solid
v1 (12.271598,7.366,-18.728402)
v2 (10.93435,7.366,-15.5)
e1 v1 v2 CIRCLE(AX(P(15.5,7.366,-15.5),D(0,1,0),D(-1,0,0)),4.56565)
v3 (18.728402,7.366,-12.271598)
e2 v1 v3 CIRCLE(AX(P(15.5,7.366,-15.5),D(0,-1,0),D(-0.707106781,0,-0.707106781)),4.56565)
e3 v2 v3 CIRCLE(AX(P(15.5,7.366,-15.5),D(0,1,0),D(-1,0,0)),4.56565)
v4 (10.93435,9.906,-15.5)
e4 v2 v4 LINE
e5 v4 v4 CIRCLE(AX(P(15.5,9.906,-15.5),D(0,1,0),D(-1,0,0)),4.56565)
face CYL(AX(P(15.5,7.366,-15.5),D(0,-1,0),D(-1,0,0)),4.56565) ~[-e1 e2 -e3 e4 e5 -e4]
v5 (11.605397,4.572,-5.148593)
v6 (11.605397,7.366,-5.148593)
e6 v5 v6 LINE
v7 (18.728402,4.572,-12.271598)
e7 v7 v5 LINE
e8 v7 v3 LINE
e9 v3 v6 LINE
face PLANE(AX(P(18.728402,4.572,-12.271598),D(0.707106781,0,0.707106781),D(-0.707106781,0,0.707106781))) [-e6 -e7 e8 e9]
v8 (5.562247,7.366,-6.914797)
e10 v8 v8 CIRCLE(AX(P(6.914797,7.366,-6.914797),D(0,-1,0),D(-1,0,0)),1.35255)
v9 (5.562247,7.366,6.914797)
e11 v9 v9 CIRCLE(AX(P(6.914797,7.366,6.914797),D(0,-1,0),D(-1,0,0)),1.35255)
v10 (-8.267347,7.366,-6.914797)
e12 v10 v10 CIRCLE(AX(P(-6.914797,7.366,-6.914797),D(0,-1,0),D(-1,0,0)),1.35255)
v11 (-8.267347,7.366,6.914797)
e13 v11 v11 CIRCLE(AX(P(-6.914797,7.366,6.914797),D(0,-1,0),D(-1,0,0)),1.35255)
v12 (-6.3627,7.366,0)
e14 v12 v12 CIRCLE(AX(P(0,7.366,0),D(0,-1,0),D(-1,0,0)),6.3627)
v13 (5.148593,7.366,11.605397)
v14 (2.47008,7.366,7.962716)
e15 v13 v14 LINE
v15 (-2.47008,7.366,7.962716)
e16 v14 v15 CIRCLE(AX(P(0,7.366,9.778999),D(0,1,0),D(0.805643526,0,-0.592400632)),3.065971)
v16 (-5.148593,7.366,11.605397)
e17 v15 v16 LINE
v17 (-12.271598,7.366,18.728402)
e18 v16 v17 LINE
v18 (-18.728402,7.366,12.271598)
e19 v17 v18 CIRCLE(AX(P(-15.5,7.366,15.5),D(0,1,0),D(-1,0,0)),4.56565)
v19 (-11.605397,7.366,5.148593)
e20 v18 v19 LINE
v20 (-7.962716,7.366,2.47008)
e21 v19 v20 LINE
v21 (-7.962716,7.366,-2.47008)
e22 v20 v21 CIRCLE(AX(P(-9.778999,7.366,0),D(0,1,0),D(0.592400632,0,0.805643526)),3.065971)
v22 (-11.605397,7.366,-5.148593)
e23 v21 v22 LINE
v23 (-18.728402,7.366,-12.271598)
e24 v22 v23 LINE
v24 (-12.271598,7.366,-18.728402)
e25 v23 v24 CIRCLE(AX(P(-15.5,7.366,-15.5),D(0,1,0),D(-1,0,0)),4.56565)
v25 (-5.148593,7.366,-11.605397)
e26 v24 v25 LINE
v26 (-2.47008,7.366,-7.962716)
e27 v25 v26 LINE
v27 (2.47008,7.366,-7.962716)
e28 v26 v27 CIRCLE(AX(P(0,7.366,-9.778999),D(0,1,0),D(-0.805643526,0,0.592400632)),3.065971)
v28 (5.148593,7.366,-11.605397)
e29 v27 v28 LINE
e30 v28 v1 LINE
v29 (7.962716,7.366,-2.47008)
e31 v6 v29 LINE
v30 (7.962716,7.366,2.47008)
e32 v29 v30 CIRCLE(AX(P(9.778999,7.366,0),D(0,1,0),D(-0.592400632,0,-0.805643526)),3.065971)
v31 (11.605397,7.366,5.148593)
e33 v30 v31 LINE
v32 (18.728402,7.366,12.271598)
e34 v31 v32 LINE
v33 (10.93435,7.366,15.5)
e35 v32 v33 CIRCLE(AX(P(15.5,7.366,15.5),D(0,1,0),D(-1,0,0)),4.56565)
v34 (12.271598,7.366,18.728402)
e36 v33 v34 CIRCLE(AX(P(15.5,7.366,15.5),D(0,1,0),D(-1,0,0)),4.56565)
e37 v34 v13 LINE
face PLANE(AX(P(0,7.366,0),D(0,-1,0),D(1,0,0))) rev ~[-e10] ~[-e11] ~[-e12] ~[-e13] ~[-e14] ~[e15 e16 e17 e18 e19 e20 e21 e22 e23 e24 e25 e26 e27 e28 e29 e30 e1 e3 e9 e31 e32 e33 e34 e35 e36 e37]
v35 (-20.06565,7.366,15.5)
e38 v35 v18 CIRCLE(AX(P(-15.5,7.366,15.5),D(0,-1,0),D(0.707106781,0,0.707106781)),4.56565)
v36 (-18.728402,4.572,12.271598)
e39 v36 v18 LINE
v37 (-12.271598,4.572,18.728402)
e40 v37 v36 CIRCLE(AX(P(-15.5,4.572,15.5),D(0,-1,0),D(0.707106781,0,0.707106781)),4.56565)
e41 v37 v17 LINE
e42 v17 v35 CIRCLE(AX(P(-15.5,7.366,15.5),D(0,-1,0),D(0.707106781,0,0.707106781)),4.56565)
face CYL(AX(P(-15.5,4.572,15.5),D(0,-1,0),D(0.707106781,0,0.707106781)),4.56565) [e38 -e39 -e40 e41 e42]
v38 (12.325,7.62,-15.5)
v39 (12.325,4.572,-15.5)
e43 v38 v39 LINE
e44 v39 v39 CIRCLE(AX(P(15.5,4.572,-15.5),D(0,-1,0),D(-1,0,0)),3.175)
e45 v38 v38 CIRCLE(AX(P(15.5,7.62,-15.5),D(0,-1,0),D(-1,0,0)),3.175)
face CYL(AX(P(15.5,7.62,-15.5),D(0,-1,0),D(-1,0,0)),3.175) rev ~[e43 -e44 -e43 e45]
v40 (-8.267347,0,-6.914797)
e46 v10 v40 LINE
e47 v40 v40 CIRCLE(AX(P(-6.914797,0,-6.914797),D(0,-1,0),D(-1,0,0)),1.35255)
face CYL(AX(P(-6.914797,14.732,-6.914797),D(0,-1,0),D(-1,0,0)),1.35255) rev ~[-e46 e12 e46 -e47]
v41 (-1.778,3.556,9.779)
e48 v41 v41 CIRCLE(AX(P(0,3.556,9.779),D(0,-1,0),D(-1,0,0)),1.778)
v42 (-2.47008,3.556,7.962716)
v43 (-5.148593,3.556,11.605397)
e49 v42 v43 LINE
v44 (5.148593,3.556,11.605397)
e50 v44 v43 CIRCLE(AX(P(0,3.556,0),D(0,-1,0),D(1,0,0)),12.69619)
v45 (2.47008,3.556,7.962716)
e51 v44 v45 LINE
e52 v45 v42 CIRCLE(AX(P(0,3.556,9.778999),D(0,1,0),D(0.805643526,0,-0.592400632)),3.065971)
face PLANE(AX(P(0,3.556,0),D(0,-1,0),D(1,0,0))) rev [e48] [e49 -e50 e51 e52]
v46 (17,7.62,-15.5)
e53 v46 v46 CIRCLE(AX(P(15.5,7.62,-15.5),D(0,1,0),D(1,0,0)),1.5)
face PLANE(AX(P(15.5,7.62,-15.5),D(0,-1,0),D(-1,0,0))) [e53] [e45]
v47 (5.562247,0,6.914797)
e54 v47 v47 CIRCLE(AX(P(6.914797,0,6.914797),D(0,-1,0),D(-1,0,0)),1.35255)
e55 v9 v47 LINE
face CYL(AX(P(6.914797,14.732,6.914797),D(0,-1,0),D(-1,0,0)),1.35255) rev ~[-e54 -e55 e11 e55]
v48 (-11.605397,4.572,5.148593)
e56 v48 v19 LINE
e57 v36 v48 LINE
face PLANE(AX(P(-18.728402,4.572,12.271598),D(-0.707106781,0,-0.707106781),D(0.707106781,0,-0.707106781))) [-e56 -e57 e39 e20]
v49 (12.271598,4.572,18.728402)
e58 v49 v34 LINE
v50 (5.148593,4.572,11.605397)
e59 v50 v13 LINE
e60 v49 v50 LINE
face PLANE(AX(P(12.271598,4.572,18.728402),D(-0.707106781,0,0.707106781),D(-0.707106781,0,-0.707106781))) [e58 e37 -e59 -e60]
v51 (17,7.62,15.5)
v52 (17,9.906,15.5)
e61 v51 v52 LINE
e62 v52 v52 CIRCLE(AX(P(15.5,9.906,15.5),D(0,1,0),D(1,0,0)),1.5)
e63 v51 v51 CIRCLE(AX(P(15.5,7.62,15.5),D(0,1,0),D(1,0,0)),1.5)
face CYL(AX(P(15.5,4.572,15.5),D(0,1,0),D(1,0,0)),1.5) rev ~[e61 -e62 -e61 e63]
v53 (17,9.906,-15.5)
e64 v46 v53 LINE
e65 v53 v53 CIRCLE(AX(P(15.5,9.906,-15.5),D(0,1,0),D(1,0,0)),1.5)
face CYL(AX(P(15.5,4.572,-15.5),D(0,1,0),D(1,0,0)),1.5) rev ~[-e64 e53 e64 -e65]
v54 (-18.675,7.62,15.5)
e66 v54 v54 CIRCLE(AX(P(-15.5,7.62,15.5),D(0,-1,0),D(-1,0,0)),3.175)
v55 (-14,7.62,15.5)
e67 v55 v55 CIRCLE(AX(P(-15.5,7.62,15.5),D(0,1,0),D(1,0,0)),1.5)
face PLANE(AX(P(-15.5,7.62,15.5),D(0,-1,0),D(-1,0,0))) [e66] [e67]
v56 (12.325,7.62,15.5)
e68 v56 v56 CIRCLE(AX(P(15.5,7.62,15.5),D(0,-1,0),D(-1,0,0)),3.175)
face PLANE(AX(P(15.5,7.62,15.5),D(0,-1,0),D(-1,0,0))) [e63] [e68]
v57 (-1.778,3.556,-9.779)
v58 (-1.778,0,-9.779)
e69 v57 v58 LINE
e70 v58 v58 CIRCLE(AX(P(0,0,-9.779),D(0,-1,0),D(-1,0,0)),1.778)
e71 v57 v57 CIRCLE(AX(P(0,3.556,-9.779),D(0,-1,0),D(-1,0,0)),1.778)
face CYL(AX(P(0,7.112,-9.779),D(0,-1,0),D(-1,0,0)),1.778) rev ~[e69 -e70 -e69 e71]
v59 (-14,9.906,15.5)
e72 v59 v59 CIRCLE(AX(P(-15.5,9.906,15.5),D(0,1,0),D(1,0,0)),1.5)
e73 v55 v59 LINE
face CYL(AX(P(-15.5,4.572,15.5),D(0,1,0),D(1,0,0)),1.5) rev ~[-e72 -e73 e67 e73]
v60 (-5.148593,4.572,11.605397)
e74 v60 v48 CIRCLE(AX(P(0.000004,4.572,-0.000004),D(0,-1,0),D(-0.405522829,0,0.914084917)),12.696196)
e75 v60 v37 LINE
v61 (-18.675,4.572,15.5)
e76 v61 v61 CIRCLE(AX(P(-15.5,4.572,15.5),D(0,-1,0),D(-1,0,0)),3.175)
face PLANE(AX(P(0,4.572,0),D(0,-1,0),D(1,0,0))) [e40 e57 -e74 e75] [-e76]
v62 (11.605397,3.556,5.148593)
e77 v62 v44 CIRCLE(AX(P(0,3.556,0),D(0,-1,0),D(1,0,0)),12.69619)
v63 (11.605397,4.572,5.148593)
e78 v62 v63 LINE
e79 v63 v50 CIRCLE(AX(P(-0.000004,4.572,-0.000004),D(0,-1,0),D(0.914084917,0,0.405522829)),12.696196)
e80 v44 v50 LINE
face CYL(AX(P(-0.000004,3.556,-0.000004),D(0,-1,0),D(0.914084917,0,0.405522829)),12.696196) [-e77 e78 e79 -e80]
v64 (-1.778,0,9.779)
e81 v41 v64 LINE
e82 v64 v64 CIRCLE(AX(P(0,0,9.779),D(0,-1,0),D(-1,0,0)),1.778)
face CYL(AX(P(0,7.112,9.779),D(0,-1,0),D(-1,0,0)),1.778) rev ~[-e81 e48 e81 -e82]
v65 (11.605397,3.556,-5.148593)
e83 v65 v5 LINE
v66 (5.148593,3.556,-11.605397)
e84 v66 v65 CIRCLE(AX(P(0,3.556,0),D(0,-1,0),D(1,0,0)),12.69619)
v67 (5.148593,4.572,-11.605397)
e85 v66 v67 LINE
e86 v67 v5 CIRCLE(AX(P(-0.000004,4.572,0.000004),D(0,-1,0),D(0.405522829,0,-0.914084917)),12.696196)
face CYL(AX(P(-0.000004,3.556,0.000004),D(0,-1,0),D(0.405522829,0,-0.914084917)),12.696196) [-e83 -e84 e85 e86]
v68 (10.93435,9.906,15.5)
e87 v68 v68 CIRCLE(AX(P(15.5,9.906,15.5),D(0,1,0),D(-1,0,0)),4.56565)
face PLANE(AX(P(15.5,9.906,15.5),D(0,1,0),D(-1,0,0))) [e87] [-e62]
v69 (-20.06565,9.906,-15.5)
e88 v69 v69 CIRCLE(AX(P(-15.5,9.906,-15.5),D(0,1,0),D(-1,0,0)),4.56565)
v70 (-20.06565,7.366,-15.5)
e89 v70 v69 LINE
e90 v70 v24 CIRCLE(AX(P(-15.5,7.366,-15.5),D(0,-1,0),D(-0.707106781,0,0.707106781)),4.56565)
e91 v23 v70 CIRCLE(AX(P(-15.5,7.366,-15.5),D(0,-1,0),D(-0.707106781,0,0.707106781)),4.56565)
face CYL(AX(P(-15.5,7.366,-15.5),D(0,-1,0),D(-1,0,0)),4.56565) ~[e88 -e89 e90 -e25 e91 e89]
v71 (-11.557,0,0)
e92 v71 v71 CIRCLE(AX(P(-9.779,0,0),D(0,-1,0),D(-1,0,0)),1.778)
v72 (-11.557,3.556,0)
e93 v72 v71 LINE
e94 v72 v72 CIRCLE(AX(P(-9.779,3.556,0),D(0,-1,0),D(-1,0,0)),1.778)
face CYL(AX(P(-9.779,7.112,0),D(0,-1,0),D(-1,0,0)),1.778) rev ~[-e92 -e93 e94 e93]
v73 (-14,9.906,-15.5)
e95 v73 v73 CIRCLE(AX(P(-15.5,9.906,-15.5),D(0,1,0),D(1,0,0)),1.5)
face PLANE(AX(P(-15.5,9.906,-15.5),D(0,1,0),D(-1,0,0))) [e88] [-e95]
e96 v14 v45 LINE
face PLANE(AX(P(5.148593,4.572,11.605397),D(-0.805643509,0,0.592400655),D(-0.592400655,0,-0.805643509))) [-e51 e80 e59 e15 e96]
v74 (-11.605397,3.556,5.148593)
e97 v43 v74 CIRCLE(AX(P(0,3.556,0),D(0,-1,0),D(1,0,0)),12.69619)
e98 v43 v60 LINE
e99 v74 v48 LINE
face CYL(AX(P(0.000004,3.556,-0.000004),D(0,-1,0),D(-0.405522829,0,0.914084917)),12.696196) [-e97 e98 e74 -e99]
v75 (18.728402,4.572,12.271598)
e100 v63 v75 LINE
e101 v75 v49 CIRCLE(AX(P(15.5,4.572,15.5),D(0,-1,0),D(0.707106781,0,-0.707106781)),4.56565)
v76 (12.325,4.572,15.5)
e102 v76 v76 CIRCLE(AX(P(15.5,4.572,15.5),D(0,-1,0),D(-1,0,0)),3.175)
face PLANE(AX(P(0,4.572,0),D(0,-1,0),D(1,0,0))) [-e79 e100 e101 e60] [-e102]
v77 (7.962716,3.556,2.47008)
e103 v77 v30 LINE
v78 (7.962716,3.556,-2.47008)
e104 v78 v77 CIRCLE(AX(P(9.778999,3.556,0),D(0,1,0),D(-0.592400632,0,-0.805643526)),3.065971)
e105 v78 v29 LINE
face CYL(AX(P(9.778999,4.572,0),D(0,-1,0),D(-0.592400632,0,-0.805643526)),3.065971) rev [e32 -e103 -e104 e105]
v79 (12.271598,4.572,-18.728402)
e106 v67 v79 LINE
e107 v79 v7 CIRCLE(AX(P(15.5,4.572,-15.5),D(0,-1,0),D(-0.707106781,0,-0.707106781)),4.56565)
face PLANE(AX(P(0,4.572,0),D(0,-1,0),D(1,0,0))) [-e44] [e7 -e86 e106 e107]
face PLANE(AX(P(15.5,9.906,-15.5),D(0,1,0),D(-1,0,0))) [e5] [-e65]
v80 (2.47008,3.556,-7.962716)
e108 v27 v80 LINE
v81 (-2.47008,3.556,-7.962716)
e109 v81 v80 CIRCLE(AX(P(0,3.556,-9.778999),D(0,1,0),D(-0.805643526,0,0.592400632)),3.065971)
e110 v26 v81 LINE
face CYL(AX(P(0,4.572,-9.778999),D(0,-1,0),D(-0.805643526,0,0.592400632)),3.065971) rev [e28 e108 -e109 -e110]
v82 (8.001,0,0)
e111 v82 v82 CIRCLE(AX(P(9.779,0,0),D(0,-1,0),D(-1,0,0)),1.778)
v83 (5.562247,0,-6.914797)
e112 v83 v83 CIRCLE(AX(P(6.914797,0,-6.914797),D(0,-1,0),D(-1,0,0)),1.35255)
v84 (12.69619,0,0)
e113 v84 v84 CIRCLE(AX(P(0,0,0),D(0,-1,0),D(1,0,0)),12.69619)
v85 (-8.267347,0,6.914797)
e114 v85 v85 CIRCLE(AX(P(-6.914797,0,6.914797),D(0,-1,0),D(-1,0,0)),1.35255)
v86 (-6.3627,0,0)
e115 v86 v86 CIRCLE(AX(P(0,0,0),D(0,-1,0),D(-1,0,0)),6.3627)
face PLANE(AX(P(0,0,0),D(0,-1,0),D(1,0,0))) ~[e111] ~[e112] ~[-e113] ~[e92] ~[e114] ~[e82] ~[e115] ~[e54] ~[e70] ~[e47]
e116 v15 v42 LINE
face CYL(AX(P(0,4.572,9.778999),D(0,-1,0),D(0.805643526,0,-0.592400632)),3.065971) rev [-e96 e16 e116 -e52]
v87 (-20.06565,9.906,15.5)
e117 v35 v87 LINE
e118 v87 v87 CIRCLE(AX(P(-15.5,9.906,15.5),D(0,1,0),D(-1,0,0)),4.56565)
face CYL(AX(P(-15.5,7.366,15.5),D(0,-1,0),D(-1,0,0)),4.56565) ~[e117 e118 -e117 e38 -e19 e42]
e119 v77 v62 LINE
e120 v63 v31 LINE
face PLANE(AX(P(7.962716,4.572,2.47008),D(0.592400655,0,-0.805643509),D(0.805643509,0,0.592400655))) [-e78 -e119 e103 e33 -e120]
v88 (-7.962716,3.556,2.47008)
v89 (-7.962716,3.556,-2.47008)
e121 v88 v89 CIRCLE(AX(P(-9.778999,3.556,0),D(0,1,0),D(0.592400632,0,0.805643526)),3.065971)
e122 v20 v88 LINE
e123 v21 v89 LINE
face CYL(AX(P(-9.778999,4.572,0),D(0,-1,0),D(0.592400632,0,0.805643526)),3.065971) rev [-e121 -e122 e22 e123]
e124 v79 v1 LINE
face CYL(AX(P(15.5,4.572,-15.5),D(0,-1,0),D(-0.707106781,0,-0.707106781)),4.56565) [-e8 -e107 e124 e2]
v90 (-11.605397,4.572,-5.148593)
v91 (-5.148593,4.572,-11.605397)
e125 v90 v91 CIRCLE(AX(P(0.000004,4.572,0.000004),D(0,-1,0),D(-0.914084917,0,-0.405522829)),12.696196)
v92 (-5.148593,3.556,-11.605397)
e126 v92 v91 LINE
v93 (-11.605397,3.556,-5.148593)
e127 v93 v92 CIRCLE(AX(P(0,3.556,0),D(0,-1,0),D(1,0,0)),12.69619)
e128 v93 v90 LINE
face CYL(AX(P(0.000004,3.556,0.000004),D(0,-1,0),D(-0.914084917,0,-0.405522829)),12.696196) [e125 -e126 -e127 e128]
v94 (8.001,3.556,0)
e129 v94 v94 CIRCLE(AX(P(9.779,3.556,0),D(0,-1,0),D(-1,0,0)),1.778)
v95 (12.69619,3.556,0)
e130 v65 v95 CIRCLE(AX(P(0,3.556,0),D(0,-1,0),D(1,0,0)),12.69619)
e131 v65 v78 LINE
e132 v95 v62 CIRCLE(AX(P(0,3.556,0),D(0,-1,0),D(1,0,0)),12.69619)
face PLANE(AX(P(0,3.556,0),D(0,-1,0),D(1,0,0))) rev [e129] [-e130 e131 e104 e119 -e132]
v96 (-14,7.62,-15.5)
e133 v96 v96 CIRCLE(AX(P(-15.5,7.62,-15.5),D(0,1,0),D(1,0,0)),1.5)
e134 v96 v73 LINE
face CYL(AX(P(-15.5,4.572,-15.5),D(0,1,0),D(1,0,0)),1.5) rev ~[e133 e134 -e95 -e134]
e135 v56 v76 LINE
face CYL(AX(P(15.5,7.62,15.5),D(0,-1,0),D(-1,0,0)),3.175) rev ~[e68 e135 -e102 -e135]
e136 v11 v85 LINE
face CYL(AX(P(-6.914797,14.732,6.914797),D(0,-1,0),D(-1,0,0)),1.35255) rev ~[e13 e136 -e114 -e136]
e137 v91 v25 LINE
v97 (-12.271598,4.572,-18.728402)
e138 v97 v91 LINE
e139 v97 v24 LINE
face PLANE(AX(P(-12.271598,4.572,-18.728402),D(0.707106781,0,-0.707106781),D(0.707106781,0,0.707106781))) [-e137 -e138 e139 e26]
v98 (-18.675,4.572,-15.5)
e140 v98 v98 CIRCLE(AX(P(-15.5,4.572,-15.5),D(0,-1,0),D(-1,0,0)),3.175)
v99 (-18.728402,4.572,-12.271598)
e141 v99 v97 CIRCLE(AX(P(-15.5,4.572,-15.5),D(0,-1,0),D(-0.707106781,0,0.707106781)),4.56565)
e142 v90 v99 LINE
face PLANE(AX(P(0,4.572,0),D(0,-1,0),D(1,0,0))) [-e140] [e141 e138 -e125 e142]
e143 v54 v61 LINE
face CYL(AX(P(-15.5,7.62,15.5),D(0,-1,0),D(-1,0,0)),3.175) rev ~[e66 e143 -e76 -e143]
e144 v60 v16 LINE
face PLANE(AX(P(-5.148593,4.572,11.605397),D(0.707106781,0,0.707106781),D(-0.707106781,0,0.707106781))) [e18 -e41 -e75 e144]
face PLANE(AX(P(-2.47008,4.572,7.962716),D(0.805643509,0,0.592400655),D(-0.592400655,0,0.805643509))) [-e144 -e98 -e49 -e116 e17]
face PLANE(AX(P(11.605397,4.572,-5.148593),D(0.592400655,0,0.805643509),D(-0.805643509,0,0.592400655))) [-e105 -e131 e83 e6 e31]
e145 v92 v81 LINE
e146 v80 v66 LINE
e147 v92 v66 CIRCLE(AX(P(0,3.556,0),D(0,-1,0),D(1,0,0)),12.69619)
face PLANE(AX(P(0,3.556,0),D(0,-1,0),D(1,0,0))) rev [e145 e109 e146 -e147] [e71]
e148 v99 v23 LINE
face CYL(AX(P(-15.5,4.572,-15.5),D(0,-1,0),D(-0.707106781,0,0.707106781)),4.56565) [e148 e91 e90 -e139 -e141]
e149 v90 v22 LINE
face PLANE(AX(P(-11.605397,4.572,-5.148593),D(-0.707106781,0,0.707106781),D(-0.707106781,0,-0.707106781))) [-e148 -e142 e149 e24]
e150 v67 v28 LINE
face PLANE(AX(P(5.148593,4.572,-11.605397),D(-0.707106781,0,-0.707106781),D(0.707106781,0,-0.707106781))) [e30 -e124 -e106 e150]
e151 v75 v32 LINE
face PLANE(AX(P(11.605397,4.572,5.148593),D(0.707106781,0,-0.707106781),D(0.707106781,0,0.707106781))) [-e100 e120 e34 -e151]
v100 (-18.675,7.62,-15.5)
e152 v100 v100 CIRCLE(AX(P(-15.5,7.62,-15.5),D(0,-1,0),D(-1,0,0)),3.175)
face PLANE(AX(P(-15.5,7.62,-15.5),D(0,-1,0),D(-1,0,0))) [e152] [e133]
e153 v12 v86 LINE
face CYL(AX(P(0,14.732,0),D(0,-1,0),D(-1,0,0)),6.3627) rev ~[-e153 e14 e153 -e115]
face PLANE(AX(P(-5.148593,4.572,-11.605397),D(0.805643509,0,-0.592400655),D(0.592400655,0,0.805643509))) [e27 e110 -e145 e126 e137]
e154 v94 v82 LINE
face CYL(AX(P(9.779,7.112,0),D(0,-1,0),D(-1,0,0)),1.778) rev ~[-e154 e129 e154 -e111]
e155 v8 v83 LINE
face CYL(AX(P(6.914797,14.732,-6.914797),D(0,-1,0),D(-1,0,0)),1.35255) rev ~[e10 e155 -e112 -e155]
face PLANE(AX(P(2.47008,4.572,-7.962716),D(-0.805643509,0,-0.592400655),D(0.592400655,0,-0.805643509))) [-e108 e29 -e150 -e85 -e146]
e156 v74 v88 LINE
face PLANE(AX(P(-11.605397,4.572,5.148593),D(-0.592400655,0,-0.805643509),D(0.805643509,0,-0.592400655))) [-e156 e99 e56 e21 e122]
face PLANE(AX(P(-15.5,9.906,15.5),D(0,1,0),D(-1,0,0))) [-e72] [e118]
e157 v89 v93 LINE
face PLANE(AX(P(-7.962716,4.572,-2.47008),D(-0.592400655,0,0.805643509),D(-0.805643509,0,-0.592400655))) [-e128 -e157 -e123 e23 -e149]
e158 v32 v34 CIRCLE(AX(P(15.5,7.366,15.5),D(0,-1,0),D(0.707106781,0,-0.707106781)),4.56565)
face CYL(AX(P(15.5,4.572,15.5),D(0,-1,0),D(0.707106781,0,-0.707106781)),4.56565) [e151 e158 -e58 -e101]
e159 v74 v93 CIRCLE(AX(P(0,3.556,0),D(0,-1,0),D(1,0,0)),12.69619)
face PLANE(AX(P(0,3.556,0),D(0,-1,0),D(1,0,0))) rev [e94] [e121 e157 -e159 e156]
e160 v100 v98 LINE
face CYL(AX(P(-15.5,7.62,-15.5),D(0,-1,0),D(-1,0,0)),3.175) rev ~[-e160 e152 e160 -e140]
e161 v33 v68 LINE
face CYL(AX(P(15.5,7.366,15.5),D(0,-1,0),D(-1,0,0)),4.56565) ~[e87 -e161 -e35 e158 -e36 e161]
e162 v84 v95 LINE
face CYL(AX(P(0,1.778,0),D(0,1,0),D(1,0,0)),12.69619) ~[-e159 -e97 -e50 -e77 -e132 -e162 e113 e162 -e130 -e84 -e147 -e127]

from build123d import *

# Parameters (mm, degrees)
SKETCH1_W                                          = 12.69619
SKETCH1_H                                          = 3.556
BOSS_EXTRUDE1_DEPTH                                = 1.016
BOSS_EXTRUDE2_DEPTH                                = 2.794
SKETCH4_R                                          = 4.56565
BOSS_EXTRUDE3_DEPTH                                = 2.54
SKETCH5_R                                          = 4.56565
BOSS_EXTRUDE4_DEPTH                                = 2.54
SKETCH6_R                                          = 4.56565
BOSS_EXTRUDE5_DEPTH                                = 2.54
SKETCH7_R                                          = 4.56565
BOSS_EXTRUDE6_DEPTH                                = 2.54
HOLE1_D                                            = 12.7254
HOLE1_DEPTH                                        = 7.366
M2_5_CLEARANCE_HOLE1_D                             = 2.7051
M2_5_CLEARANCE_HOLE1_DEPTH                         = 7.366
M3_CLEARANCE_HOLE1_D                               = 3.556
M3_CLEARANCE_HOLE1_DEPTH                           = 3.556
CBORE_FOR_M2_5_HEX_HEAD_MACHINE_SCREW1_D           = 3
CBORE_FOR_M2_5_HEX_HEAD_MACHINE_SCREW1_DEPTH       = 5.334
CBORE_FOR_M2_5_HEX_HEAD_MACHINE_SCREW1_CBORE_D     = 6.35
CBORE_FOR_M2_5_HEX_HEAD_MACHINE_SCREW1_CBORE_DEPTH = 3.048


with BuildPart() as part:
    # Sketch1 → Revolve1 (revolve)
    with BuildSketch(Plane.XY):
        with Locations((6.348095, 1.778)):
            Rectangle(SKETCH1_W, SKETCH1_H)
    revolve(axis=Axis((0, 3.556, 0), (0, -1, 0)))

    # Sketch2 → Boss-Extrude1 (add)
    with BuildSketch(Plane(origin=(0, 3.556, 0), x_dir=(-1, 0, 0), z_dir=(0, 1, 0))):
        with BuildLine():
            Line((2.47008, 7.962716), (5.148593, 11.605397))
            ThreePointArc((5.148593, 11.605397), (8.977562, 8.977562), (11.605397, 5.148593))
            Line((11.605397, 5.148593), (7.962716, 2.47008))
            ThreePointArc((7.962716, 2.47008), (6.713028, 0), (7.962716, -2.47008))
            Line((7.962716, -2.47008), (11.605397, -5.148593))
            ThreePointArc((11.605397, -5.148593), (8.977562, -8.977562), (5.148593, -11.605397))
            Line((5.148593, -11.605397), (2.47008, -7.962716))
            ThreePointArc((2.47008, -7.962716), (0, -6.713028), (-2.47008, -7.962716))
            Line((-2.47008, -7.962716), (-5.148593, -11.605397))
            ThreePointArc((-5.148593, -11.605397), (-8.977562, -8.977562), (-11.605397, -5.148593))
            Line((-11.605397, -5.148593), (-7.962716, -2.47008))
            ThreePointArc((-7.962716, -2.47008), (-6.713028, 0), (-7.962716, 2.47008))
            Line((-7.962716, 2.47008), (-11.605397, 5.148593))
            ThreePointArc((-11.605397, 5.148593), (-8.977562, 8.977562), (-5.148593, 11.605397))
            Line((-5.148593, 11.605397), (-2.47008, 7.962716))
            ThreePointArc((-2.47008, 7.962716), (0, 6.713028), (2.47008, 7.962716))
        make_face()
    extrude(amount=BOSS_EXTRUDE1_DEPTH)

    # Sketch3 → Boss-Extrude2 (add)
    with BuildSketch(Plane(origin=(0, 4.572, 0), x_dir=(-1, 0, 0), z_dir=(0, 1, 0))):
        with BuildLine():
            Line((-7.962716, 2.47008), (-11.605397, 5.148593))
            Line((-11.605397, 5.148593), (-18.728402, 12.271598))
            ThreePointArc((-18.728402, 12.271598), (-18.728402, 18.728402), (-12.271598, 18.728402))
            Line((-12.271598, 18.728402), (-5.148593, 11.605397))
            Line((-5.148593, 11.605397), (-2.47008, 7.962716))
            ThreePointArc((-2.47008, 7.962716), (0, 6.713028), (2.47008, 7.962716))
            Line((2.47008, 7.962716), (5.148593, 11.605397))
            Line((5.148593, 11.605397), (12.271598, 18.728402))
            ThreePointArc((12.271598, 18.728402), (18.728402, 18.728402), (18.728402, 12.271598))
            Line((18.728402, 12.271598), (11.605397, 5.148593))
            Line((11.605397, 5.148593), (7.962716, 2.47008))
            ThreePointArc((7.962716, 2.47008), (6.713028, 0), (7.962716, -2.47008))
            Line((7.962716, -2.47008), (11.605397, -5.148593))
            Line((11.605397, -5.148593), (18.728402, -12.271598))
            ThreePointArc((18.728402, -12.271598), (18.728402, -18.728402), (12.271598, -18.728402))
            Line((12.271598, -18.728402), (5.148593, -11.605397))
            Line((5.148593, -11.605397), (2.47008, -7.962716))
            ThreePointArc((2.47008, -7.962716), (0, -6.713028), (-2.47008, -7.962716))
            Line((-2.47008, -7.962716), (-5.148593, -11.605397))
            Line((-5.148593, -11.605397), (-12.271598, -18.728402))
            ThreePointArc((-12.271598, -18.728402), (-18.728402, -18.728402), (-18.728402, -12.271598))
            Line((-18.728402, -12.271598), (-11.605397, -5.148593))
            Line((-11.605397, -5.148593), (-7.962716, -2.47008))
            ThreePointArc((-7.962716, -2.47008), (-6.713028, 0), (-7.962716, 2.47008))
        make_face()
    extrude(amount=BOSS_EXTRUDE2_DEPTH)

    # Sketch4 → Boss-Extrude3 (add)
    with BuildSketch(Plane(origin=(0, 7.366, 0), x_dir=(-1, 0, 0), z_dir=(0, 1, 0))):
        with Locations((-15.5, -15.5)):
            Circle(SKETCH4_R)
    extrude(amount=BOSS_EXTRUDE3_DEPTH)

    # Sketch5 → Boss-Extrude4 (add)
    with BuildSketch(Plane(origin=(0, 7.366, 0), x_dir=(-1, 0, 0), z_dir=(0, 1, 0))):
        with Locations((15.5, -15.5)):
            Circle(SKETCH5_R)
    extrude(amount=BOSS_EXTRUDE4_DEPTH)

    # Sketch6 → Boss-Extrude5 (add)
    with BuildSketch(Plane(origin=(0, 7.366, 0), x_dir=(-1, 0, 0), z_dir=(0, 1, 0))):
        with Locations((15.5, 15.5)):
            Circle(SKETCH6_R)
    extrude(amount=BOSS_EXTRUDE5_DEPTH)

    # Sketch7 → Boss-Extrude6 (add)
    with BuildSketch(Plane(origin=(0, 7.366, 0), x_dir=(-1, 0, 0), z_dir=(0, 1, 0))):
        with Locations((-15.5, 15.5)):
            Circle(SKETCH7_R)
    extrude(amount=BOSS_EXTRUDE6_DEPTH)

    # Hole1
    with Locations(Plane(origin=(0, 7.366, 0), x_dir=(1, 0, 0), z_dir=(0, 1, 0))):
        with Locations((0, 0)):
            Hole(HOLE1_D / 2, depth=HOLE1_DEPTH)

    # M2.5 Clearance Hole1
    with Locations(Plane(origin=(0, 7.366, 0), x_dir=(1, 0, 0), z_dir=(0, 1, 0))):
        with Locations((6.914797, -6.914797), (-6.914797, 6.914797), (6.914797, 6.914797), (-6.914797, -6.914797)):
            Hole(M2_5_CLEARANCE_HOLE1_D / 2, depth=M2_5_CLEARANCE_HOLE1_DEPTH)

    # M3 Clearance Hole1
    with Locations(Plane(origin=(0, 3.556, 0), x_dir=(1, 0, 0), z_dir=(0, 1, 0))):
        with Locations((0, -9.779), (-9.779, 0), (0, 9.779), (9.779, 0)):
            Hole(M3_CLEARANCE_HOLE1_D / 2, depth=M3_CLEARANCE_HOLE1_DEPTH)

    # CBORE for M2.5 Hex Head Machine Screw1
    with Locations(Plane(origin=(0, 4.572, 0), x_dir=(-1, 0, 0), z_dir=(0, -1, 0))):
        with Locations((-15.5, 15.5), (15.5, 15.5), (15.5, -15.5), (-15.5, -15.5)):
            CounterBoreHole(CBORE_FOR_M2_5_HEX_HEAD_MACHINE_SCREW1_D / 2, CBORE_FOR_M2_5_HEX_HEAD_MACHINE_SCREW1_CBORE_D / 2, CBORE_FOR_M2_5_HEX_HEAD_MACHINE_SCREW1_CBORE_DEPTH, depth=CBORE_FOR_M2_5_HEX_HEAD_MACHINE_SCREW1_DEPTH)


solid = part.part
